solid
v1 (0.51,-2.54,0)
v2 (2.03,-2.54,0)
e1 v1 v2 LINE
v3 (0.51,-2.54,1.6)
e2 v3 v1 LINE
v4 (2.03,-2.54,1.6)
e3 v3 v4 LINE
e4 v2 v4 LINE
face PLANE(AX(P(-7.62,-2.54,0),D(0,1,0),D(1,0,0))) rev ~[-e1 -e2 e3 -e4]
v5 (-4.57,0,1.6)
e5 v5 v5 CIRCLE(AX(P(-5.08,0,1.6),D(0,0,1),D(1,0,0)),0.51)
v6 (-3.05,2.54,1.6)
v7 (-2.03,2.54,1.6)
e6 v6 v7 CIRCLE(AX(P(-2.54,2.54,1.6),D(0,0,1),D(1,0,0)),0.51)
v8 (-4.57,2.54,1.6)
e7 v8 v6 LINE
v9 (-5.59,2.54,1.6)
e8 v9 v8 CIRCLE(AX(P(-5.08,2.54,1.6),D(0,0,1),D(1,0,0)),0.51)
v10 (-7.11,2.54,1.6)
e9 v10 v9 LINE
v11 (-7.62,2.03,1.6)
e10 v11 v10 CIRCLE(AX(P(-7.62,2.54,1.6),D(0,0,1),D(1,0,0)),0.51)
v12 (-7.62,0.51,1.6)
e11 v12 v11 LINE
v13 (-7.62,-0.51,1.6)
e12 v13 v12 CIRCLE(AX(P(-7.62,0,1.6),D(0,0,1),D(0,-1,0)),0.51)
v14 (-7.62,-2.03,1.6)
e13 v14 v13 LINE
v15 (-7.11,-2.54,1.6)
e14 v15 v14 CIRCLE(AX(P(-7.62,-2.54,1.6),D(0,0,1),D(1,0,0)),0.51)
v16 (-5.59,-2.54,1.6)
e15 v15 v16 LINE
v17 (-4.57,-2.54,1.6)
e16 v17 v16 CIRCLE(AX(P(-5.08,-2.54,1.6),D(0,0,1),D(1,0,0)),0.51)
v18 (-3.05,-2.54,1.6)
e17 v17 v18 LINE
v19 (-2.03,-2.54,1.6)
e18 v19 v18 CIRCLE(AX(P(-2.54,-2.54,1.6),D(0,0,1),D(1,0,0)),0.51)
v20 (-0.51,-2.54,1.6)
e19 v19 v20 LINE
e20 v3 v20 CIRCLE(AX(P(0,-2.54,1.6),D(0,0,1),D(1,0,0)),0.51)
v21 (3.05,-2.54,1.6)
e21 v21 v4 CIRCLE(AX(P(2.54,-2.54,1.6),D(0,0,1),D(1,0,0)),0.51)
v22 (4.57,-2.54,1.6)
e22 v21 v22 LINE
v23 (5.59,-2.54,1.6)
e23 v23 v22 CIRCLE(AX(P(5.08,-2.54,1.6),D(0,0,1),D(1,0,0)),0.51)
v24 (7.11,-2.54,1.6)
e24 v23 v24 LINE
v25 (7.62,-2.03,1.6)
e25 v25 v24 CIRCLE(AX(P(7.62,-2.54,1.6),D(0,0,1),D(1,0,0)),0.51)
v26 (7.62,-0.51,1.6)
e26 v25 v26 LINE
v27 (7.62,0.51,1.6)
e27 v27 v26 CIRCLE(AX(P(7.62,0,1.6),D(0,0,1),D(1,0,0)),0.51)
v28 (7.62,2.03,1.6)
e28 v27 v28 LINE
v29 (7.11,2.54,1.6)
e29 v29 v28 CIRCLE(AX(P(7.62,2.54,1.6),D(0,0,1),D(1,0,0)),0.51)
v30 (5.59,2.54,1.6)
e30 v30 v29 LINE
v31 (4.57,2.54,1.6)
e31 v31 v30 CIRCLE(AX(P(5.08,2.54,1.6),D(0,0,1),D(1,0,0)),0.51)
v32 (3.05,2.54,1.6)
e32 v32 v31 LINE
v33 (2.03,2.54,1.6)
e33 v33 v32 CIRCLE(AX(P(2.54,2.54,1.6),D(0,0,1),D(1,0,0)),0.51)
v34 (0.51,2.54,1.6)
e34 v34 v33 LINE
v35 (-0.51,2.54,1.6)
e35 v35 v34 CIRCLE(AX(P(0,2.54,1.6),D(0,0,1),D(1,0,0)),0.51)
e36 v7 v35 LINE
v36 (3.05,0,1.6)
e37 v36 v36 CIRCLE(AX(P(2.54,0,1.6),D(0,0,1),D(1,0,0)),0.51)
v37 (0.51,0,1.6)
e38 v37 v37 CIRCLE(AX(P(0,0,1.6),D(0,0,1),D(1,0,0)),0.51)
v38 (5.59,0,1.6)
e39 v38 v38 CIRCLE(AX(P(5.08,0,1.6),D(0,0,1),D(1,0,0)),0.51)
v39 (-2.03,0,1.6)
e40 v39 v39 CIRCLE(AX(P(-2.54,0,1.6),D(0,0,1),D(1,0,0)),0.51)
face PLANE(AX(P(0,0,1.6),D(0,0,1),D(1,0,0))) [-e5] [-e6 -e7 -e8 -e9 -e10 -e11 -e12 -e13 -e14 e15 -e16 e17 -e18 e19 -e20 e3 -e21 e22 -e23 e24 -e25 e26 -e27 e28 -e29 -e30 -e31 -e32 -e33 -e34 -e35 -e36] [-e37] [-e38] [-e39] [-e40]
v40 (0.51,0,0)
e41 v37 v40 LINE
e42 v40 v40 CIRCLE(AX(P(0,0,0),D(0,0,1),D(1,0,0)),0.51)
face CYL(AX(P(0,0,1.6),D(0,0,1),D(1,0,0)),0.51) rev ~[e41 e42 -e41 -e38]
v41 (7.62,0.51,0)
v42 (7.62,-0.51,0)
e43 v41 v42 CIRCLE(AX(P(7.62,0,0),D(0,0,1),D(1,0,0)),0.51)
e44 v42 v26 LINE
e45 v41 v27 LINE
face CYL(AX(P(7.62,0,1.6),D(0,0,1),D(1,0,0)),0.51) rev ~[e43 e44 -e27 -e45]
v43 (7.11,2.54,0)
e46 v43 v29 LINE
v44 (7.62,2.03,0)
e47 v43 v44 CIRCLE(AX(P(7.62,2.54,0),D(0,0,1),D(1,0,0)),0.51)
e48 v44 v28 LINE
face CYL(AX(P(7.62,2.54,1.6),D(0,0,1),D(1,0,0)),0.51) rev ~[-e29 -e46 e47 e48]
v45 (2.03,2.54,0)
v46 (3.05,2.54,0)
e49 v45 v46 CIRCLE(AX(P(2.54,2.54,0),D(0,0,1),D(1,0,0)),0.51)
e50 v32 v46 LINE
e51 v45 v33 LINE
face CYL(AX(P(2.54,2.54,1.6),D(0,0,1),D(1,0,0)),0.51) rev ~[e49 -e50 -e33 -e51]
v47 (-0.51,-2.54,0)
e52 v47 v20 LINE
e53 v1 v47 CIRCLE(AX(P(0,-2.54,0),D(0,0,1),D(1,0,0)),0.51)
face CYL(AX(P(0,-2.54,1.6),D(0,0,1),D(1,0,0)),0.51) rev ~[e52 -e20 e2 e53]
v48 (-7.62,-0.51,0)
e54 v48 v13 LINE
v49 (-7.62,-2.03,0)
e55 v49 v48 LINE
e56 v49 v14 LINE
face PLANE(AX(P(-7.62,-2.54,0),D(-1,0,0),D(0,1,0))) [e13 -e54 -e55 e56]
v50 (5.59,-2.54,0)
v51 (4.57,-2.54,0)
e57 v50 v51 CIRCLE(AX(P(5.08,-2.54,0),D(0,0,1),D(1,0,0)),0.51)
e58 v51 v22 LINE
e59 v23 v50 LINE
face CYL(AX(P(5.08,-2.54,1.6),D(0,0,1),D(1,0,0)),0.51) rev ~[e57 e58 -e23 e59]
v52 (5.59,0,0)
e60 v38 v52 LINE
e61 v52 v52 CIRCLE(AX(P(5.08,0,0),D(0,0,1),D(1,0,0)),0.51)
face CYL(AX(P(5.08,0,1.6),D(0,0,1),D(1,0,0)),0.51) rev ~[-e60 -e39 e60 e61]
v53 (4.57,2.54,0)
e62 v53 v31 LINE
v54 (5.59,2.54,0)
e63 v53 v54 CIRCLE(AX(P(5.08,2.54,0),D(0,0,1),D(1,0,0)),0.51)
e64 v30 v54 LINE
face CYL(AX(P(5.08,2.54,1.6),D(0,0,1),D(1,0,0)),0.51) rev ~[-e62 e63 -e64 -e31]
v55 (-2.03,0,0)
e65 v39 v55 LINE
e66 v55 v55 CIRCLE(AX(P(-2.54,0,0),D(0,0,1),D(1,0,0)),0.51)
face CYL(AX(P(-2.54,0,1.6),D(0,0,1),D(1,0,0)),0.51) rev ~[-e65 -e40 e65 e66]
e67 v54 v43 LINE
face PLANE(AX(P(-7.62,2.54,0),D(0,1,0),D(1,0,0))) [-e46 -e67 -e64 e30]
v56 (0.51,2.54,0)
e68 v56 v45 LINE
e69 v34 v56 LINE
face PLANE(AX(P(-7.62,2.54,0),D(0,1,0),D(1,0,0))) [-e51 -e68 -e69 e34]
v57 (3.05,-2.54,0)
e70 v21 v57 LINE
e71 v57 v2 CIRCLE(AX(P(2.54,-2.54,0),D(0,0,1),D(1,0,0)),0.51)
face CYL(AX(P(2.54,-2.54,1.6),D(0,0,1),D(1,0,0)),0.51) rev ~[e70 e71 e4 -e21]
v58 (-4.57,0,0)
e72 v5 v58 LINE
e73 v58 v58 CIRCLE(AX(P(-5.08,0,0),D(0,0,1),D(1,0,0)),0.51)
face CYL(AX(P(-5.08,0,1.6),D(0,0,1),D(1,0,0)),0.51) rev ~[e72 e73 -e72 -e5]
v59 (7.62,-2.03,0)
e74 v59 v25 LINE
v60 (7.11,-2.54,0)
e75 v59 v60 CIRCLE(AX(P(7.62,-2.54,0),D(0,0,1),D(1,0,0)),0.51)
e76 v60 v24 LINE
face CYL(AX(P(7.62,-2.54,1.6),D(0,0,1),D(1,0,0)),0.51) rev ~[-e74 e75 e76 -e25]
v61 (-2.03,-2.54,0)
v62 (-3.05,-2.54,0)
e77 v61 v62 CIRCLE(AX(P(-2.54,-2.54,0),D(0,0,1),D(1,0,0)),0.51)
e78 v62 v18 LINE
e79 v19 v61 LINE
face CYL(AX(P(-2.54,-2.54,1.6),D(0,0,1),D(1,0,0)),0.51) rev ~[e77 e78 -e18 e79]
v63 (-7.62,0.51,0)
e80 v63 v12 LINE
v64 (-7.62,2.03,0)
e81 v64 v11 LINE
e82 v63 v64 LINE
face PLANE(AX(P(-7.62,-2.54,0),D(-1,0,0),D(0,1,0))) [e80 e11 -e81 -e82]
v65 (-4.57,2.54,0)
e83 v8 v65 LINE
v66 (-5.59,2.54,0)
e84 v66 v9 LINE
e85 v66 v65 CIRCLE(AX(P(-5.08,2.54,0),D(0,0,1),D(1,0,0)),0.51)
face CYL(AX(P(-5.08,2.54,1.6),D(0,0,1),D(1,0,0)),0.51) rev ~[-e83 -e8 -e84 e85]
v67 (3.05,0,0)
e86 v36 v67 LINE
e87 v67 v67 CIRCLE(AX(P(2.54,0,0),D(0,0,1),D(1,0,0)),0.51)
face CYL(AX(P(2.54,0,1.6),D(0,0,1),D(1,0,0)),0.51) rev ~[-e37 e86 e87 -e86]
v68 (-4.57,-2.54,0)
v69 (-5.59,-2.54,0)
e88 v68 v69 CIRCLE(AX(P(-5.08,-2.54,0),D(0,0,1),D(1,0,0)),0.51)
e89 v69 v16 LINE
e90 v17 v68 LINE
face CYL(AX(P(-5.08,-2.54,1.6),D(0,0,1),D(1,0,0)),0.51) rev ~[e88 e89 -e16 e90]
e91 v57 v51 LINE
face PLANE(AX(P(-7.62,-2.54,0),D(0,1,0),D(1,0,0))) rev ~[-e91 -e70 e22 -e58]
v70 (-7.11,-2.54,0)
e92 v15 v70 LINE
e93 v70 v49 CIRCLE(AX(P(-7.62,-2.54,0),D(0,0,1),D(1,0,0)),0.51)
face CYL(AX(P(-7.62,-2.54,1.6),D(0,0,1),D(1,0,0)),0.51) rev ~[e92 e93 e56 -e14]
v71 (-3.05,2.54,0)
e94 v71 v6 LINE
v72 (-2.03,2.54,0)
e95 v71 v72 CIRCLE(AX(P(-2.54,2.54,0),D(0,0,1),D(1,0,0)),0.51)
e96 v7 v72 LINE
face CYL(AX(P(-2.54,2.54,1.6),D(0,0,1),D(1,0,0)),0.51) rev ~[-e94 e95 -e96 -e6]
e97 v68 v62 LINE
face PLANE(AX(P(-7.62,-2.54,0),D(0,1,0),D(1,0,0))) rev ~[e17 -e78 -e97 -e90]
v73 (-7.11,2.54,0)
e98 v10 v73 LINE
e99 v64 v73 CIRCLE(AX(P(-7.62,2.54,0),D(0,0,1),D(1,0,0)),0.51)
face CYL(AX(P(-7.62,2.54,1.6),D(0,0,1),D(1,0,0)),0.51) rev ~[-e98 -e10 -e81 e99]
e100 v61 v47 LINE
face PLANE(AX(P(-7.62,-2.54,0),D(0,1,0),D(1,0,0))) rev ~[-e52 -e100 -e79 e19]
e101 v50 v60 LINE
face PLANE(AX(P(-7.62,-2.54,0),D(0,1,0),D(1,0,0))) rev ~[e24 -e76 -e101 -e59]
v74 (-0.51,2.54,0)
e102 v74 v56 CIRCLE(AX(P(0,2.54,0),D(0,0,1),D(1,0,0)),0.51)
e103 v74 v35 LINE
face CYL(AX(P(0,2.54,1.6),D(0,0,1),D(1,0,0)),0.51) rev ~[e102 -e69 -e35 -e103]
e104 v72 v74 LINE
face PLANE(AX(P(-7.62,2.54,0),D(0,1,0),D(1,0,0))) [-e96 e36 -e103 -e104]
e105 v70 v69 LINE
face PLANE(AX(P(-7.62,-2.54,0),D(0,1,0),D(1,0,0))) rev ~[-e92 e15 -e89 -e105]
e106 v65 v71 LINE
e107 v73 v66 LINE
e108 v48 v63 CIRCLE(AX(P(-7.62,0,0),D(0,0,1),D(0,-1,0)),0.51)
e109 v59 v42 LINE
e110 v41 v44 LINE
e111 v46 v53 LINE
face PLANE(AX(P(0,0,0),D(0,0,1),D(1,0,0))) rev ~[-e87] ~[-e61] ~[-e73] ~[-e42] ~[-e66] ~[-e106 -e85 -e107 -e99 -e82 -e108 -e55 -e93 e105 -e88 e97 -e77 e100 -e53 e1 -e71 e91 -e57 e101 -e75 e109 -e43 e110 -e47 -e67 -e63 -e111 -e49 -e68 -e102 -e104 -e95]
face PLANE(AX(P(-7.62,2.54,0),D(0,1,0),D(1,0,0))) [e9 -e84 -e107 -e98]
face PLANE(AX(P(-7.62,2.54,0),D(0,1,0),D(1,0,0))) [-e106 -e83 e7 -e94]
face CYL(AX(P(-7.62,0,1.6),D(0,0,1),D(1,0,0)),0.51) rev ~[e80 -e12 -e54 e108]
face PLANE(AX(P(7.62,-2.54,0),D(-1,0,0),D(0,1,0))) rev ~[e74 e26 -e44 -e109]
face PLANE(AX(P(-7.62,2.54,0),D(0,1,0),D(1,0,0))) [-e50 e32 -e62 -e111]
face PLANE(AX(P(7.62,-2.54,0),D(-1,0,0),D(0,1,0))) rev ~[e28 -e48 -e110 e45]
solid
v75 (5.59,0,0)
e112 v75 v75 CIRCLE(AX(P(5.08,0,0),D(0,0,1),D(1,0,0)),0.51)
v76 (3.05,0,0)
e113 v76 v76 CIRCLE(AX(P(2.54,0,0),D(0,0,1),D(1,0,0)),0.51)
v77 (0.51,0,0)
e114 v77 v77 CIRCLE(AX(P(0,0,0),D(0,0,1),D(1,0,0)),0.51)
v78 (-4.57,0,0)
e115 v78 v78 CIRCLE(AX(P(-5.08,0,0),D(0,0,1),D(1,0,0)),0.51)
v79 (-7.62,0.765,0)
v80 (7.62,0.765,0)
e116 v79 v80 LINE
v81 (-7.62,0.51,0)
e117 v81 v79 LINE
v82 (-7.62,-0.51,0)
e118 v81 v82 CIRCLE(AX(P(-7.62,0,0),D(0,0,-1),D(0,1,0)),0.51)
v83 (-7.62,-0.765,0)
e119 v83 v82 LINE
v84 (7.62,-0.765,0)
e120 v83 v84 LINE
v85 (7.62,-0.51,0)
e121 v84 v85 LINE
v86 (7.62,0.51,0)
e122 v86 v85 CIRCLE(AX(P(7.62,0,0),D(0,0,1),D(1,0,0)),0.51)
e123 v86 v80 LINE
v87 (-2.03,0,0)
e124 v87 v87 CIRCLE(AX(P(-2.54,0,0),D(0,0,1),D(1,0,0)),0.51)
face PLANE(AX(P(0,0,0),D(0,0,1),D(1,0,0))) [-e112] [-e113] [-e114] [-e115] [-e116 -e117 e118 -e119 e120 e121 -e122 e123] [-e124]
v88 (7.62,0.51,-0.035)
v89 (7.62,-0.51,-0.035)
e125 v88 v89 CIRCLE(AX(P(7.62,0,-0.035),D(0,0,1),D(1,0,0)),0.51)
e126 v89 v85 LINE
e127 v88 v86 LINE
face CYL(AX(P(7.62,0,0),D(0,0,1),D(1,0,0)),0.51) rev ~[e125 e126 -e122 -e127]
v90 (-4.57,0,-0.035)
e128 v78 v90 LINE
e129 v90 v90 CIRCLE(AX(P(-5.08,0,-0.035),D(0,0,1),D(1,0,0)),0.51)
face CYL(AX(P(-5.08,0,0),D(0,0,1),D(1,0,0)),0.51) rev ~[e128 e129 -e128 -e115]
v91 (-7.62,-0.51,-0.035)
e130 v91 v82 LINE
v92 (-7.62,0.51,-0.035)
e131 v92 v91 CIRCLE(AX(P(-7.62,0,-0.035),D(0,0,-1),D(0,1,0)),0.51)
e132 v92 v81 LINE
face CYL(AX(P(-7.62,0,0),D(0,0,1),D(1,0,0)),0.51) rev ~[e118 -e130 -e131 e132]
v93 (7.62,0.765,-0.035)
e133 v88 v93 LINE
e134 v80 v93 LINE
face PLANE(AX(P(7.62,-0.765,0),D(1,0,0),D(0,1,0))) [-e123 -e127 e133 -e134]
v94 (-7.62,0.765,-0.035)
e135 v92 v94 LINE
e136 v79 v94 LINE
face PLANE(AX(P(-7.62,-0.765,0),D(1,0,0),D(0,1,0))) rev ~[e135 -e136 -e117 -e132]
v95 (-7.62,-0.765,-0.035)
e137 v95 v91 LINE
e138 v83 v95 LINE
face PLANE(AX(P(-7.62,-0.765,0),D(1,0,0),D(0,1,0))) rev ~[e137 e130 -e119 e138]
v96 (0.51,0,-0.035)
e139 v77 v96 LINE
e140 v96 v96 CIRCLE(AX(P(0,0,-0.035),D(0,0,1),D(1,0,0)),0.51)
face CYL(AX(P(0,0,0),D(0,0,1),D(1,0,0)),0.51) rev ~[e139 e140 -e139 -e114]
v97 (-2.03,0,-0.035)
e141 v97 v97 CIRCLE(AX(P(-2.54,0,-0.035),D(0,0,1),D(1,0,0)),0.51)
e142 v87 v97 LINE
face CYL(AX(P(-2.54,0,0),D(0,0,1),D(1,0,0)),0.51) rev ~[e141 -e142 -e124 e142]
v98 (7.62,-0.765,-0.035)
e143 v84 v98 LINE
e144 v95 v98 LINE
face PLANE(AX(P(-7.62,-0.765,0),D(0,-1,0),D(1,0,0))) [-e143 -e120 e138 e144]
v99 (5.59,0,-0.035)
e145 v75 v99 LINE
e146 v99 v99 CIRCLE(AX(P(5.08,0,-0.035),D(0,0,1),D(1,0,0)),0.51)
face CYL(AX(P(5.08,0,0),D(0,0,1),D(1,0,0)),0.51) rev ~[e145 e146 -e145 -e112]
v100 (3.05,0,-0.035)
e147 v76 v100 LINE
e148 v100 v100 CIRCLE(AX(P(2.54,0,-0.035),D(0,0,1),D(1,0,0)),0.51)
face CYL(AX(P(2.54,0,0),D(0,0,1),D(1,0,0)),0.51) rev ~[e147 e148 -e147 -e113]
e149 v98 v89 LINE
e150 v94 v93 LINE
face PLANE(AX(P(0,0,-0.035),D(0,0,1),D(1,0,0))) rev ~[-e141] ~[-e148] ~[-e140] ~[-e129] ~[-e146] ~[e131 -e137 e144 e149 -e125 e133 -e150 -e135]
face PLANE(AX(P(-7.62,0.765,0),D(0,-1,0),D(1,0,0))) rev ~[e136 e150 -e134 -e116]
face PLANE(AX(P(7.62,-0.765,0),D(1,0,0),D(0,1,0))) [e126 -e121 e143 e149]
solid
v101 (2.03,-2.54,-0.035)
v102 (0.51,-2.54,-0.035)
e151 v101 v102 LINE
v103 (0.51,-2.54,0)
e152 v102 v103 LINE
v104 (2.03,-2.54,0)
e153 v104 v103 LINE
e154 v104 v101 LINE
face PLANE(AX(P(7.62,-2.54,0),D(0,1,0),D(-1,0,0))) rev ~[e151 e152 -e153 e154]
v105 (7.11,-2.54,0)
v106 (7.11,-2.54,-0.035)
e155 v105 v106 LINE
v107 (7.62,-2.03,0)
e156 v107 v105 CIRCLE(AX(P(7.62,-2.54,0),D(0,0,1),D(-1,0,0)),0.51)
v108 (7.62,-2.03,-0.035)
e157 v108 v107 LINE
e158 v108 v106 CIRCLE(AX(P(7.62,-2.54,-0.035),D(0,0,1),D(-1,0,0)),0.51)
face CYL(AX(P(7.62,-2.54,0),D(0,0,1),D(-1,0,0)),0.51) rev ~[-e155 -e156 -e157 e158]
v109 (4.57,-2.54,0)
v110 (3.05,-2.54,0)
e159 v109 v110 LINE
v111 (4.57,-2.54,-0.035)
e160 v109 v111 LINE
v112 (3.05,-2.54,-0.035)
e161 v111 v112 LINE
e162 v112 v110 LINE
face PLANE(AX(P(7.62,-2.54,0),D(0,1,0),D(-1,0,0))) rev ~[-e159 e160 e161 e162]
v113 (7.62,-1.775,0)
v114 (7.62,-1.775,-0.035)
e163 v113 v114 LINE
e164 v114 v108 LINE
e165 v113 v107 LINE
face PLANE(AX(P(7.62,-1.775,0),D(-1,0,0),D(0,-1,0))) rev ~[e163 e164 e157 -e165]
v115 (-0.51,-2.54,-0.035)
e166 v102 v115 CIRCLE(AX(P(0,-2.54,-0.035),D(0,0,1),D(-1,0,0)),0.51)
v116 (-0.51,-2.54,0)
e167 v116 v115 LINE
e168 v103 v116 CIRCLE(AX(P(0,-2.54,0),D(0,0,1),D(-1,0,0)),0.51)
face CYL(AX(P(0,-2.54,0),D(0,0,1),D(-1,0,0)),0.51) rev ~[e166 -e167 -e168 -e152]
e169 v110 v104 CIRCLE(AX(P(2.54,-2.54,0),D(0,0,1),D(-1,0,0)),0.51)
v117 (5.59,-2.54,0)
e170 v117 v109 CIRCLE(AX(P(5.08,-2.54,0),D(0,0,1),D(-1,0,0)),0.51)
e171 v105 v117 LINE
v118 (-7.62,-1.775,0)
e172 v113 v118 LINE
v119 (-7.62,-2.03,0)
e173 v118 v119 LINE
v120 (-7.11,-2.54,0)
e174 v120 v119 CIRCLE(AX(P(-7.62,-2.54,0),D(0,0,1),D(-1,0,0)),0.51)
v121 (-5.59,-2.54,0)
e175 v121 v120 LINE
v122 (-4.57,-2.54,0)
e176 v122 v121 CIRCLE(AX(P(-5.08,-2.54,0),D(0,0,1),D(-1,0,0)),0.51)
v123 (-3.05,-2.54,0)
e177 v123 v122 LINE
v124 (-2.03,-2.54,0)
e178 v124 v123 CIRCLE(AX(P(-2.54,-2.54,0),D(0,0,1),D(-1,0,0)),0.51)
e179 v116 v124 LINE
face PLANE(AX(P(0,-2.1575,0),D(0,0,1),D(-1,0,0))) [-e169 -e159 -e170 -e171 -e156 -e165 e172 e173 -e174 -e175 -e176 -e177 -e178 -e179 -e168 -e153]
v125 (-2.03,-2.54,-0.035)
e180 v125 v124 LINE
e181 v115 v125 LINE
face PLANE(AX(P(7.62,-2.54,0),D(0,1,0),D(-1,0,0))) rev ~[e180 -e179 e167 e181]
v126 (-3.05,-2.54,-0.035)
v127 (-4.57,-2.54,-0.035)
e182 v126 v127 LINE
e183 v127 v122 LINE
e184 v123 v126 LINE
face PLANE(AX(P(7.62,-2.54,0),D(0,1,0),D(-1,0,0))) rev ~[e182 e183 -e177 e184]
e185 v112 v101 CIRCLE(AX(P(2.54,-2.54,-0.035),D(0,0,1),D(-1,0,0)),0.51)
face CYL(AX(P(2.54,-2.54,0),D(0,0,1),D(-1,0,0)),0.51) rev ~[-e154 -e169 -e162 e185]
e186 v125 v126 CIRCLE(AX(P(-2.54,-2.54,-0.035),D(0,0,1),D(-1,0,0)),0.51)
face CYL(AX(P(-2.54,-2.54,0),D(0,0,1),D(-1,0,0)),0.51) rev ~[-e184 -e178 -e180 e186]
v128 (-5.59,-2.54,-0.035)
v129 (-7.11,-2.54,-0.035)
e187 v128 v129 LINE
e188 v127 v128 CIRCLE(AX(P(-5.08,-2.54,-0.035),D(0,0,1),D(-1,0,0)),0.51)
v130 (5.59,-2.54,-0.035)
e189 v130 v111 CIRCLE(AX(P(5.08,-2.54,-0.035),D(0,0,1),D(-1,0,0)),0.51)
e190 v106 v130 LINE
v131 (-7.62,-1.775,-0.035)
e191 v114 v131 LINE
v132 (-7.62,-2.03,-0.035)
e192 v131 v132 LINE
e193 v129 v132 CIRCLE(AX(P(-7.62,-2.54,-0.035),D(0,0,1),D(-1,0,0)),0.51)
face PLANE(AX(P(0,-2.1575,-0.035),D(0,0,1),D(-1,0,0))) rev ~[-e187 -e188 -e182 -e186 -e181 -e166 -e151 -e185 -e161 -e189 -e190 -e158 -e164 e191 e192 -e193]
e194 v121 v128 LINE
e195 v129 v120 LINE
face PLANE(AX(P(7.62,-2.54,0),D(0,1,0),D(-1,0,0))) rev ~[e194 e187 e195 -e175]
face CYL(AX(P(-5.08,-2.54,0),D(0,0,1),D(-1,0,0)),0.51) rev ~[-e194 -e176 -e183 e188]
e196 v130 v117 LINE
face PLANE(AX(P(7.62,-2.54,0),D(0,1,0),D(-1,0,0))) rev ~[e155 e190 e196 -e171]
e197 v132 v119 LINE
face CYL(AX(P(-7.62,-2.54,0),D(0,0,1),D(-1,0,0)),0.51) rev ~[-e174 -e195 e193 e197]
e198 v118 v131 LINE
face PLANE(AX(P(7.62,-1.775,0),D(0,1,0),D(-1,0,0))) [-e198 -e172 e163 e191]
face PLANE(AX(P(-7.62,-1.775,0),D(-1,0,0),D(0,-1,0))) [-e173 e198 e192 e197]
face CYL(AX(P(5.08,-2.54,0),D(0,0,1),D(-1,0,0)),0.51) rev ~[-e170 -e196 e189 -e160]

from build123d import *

# Parameters (mm, degrees)
SKETCH_W                     = 15.24
SKETCH_H                     = 5.08
PAD_DEPTH                    = 1.6
SKETCH001_R                  = 0.51
POCKET_DEPTH                 = 33.888707
SKETCH001_LINEARPATTERN_2_R  = 0.51
POCKET_LINEARPATTERN_2_DEPTH = 33.888707
SKETCH001_LINEARPATTERN_3_R  = 0.51
POCKET_LINEARPATTERN_3_DEPTH = 33.888707
SKETCH001_LINEARPATTERN_4_R  = 0.51
POCKET_LINEARPATTERN_4_DEPTH = 33.888707
SKETCH001_LINEARPATTERN_5_R  = 0.51
POCKET_LINEARPATTERN_5_DEPTH = 33.888707
SKETCH001_LINEARPATTERN_6_R  = 0.51
POCKET_LINEARPATTERN_6_DEPTH = 33.888707
SKETCH001_LINEARPATTERN_7_R  = 0.51
POCKET_LINEARPATTERN_7_DEPTH = 33.888707
LINEARPATTERN003_COUNT       = 3
LINEARPATTERN003_PITCH       = 2.54
SKETCH002_W                  = 15.24
SKETCH002_H                  = 1.53
PAD001_DEPTH                 = 0.035
SKETCH003_R                  = 0.51
POCKET001_DEPTH              = 0.036
LINEARPATTERN004_COUNT       = 7
LINEARPATTERN004_PITCH       = 2.54
SKETCH004_W                  = 15.24
SKETCH004_H                  = 0.765
PAD002_DEPTH                 = 0.035
SKETCH005_R                  = 0.51
POCKET002_DEPTH              = 0.036
LINEARPATTERN005_COUNT       = 7
LINEARPATTERN005_PITCH       = 2.54
BODY004_PLACEMENT_ANGLE      = 180


with BuildPart() as veroboard:
    # Sketch → Pad (new body)
    with BuildSketch(Plane.XY):
        Rectangle(SKETCH_W, SKETCH_H)
    extrude(amount=PAD_DEPTH)

    # Sketch001 → Pocket (cut, through all)
    with BuildSketch(Plane.XY.offset(1.6)):
        with Locations((-7.62, 2.54)):
            Circle(SKETCH001_R)
    pocket = extrude(amount=-POCKET_DEPTH, mode=Mode.SUBTRACT)

    # Sketch001 LinearPattern 2 → Pocket LinearPattern 2 (cut, through all)
    with BuildSketch(Plane(origin=(2.54, 0, 1.6), x_dir=(1, 0, 0), z_dir=(0, 0, 1))):
        with Locations((-7.62, 2.54)):
            Circle(SKETCH001_LINEARPATTERN_2_R)
    pocket_linearpattern_2 = extrude(amount=-POCKET_LINEARPATTERN_2_DEPTH, mode=Mode.SUBTRACT)

    # Sketch001 LinearPattern 3 → Pocket LinearPattern 3 (cut, through all)
    with BuildSketch(Plane(origin=(5.08, 0, 1.6), x_dir=(1, 0, 0), z_dir=(0, 0, 1))):
        with Locations((-7.62, 2.54)):
            Circle(SKETCH001_LINEARPATTERN_3_R)
    pocket_linearpattern_3 = extrude(amount=-POCKET_LINEARPATTERN_3_DEPTH, mode=Mode.SUBTRACT)

    # Sketch001 LinearPattern 4 → Pocket LinearPattern 4 (cut, through all)
    with BuildSketch(Plane(origin=(7.62, 0, 1.6), x_dir=(1, 0, 0), z_dir=(0, 0, 1))):
        with Locations((-7.62, 2.54)):
            Circle(SKETCH001_LINEARPATTERN_4_R)
    pocket_linearpattern_4 = extrude(amount=-POCKET_LINEARPATTERN_4_DEPTH, mode=Mode.SUBTRACT)

    # Sketch001 LinearPattern 5 → Pocket LinearPattern 5 (cut, through all)
    with BuildSketch(Plane(origin=(10.16, 0, 1.6), x_dir=(1, 0, 0), z_dir=(0, 0, 1))):
        with Locations((-7.62, 2.54)):
            Circle(SKETCH001_LINEARPATTERN_5_R)
    pocket_linearpattern_5 = extrude(amount=-POCKET_LINEARPATTERN_5_DEPTH, mode=Mode.SUBTRACT)

    # Sketch001 LinearPattern 6 → Pocket LinearPattern 6 (cut, through all)
    with BuildSketch(Plane(origin=(12.7, 0, 1.6), x_dir=(1, 0, 0), z_dir=(0, 0, 1))):
        with Locations((-7.62, 2.54)):
            Circle(SKETCH001_LINEARPATTERN_6_R)
    pocket_linearpattern_6 = extrude(amount=-POCKET_LINEARPATTERN_6_DEPTH, mode=Mode.SUBTRACT)

    # Sketch001 LinearPattern 7 → Pocket LinearPattern 7 (cut, through all)
    with BuildSketch(Plane(origin=(15.24, 0, 1.6), x_dir=(1, 0, 0), z_dir=(0, 0, 1))):
        with Locations((-7.62, 2.54)):
            Circle(SKETCH001_LINEARPATTERN_7_R)
    pocket_linearpattern_7 = extrude(amount=-POCKET_LINEARPATTERN_7_DEPTH, mode=Mode.SUBTRACT)

    # LinearPattern003: Pocket, Pocket LinearPattern 2, Pocket LinearPattern 3, Pocket LinearPattern 4, Pocket LinearPattern 5, Pocket LinearPattern 6, Pocket LinearPattern 7 ×3
    with Locations(*[(0, -i * LINEARPATTERN003_PITCH, 0) for i in range(1, LINEARPATTERN003_COUNT)]):
        add(pocket, mode=Mode.SUBTRACT)
        add(pocket_linearpattern_2, mode=Mode.SUBTRACT)
        add(pocket_linearpattern_3, mode=Mode.SUBTRACT)
        add(pocket_linearpattern_4, mode=Mode.SUBTRACT)
        add(pocket_linearpattern_5, mode=Mode.SUBTRACT)
        add(pocket_linearpattern_6, mode=Mode.SUBTRACT)
        add(pocket_linearpattern_7, mode=Mode.SUBTRACT)


with BuildPart() as fullcopperstripsarray:
    # Sketch002 → Pad001 (new body)
    with BuildSketch(Plane.XY):
        Rectangle(SKETCH002_W, SKETCH002_H)
    extrude(amount=-PAD001_DEPTH)

    # Sketch003 → Pocket001 (cut, through all)
    with BuildSketch(Plane.XY):
        with Locations((-7.62, 0)):
            Circle(SKETCH003_R)
    pocket001 = extrude(amount=-POCKET001_DEPTH, mode=Mode.SUBTRACT)

    # LinearPattern004: Pocket001 ×7
    with Locations(*[(i * LINEARPATTERN004_PITCH, 0, 0) for i in range(1, LINEARPATTERN004_COUNT)]):
        add(pocket001, mode=Mode.SUBTRACT)


with BuildPart() as partialcopperstripsclone:
    # Sketch004 → Pad002 (new body)
    with BuildSketch(Plane.XY):
        with Locations((0, 2.1575)):
            Rectangle(SKETCH004_W, SKETCH004_H)
    extrude(amount=-PAD002_DEPTH)

    # Sketch005 → Pocket002 (cut, through all)
    with BuildSketch(Plane.XY):
        with Locations((-7.62, 2.54)):
            Circle(SKETCH005_R)
    pocket002 = extrude(amount=-POCKET002_DEPTH, mode=Mode.SUBTRACT)

    # LinearPattern005: Pocket002 ×7
    with Locations(*[(i * LINEARPATTERN005_PITCH, 0, 0) for i in range(1, LINEARPATTERN005_COUNT)]):
        add(pocket002, mode=Mode.SUBTRACT)


with BuildPart() as partialcopperstripsclone_1:
    # Body004 placement: moved
    add(partialcopperstripsclone.part.rotate(Axis((0, 0, 0), (0, 0, 1)), BODY004_PLACEMENT_ANGLE))


solid = Compound([veroboard.part, fullcopperstripsarray.part, partialcopperstripsclone_1.part])
